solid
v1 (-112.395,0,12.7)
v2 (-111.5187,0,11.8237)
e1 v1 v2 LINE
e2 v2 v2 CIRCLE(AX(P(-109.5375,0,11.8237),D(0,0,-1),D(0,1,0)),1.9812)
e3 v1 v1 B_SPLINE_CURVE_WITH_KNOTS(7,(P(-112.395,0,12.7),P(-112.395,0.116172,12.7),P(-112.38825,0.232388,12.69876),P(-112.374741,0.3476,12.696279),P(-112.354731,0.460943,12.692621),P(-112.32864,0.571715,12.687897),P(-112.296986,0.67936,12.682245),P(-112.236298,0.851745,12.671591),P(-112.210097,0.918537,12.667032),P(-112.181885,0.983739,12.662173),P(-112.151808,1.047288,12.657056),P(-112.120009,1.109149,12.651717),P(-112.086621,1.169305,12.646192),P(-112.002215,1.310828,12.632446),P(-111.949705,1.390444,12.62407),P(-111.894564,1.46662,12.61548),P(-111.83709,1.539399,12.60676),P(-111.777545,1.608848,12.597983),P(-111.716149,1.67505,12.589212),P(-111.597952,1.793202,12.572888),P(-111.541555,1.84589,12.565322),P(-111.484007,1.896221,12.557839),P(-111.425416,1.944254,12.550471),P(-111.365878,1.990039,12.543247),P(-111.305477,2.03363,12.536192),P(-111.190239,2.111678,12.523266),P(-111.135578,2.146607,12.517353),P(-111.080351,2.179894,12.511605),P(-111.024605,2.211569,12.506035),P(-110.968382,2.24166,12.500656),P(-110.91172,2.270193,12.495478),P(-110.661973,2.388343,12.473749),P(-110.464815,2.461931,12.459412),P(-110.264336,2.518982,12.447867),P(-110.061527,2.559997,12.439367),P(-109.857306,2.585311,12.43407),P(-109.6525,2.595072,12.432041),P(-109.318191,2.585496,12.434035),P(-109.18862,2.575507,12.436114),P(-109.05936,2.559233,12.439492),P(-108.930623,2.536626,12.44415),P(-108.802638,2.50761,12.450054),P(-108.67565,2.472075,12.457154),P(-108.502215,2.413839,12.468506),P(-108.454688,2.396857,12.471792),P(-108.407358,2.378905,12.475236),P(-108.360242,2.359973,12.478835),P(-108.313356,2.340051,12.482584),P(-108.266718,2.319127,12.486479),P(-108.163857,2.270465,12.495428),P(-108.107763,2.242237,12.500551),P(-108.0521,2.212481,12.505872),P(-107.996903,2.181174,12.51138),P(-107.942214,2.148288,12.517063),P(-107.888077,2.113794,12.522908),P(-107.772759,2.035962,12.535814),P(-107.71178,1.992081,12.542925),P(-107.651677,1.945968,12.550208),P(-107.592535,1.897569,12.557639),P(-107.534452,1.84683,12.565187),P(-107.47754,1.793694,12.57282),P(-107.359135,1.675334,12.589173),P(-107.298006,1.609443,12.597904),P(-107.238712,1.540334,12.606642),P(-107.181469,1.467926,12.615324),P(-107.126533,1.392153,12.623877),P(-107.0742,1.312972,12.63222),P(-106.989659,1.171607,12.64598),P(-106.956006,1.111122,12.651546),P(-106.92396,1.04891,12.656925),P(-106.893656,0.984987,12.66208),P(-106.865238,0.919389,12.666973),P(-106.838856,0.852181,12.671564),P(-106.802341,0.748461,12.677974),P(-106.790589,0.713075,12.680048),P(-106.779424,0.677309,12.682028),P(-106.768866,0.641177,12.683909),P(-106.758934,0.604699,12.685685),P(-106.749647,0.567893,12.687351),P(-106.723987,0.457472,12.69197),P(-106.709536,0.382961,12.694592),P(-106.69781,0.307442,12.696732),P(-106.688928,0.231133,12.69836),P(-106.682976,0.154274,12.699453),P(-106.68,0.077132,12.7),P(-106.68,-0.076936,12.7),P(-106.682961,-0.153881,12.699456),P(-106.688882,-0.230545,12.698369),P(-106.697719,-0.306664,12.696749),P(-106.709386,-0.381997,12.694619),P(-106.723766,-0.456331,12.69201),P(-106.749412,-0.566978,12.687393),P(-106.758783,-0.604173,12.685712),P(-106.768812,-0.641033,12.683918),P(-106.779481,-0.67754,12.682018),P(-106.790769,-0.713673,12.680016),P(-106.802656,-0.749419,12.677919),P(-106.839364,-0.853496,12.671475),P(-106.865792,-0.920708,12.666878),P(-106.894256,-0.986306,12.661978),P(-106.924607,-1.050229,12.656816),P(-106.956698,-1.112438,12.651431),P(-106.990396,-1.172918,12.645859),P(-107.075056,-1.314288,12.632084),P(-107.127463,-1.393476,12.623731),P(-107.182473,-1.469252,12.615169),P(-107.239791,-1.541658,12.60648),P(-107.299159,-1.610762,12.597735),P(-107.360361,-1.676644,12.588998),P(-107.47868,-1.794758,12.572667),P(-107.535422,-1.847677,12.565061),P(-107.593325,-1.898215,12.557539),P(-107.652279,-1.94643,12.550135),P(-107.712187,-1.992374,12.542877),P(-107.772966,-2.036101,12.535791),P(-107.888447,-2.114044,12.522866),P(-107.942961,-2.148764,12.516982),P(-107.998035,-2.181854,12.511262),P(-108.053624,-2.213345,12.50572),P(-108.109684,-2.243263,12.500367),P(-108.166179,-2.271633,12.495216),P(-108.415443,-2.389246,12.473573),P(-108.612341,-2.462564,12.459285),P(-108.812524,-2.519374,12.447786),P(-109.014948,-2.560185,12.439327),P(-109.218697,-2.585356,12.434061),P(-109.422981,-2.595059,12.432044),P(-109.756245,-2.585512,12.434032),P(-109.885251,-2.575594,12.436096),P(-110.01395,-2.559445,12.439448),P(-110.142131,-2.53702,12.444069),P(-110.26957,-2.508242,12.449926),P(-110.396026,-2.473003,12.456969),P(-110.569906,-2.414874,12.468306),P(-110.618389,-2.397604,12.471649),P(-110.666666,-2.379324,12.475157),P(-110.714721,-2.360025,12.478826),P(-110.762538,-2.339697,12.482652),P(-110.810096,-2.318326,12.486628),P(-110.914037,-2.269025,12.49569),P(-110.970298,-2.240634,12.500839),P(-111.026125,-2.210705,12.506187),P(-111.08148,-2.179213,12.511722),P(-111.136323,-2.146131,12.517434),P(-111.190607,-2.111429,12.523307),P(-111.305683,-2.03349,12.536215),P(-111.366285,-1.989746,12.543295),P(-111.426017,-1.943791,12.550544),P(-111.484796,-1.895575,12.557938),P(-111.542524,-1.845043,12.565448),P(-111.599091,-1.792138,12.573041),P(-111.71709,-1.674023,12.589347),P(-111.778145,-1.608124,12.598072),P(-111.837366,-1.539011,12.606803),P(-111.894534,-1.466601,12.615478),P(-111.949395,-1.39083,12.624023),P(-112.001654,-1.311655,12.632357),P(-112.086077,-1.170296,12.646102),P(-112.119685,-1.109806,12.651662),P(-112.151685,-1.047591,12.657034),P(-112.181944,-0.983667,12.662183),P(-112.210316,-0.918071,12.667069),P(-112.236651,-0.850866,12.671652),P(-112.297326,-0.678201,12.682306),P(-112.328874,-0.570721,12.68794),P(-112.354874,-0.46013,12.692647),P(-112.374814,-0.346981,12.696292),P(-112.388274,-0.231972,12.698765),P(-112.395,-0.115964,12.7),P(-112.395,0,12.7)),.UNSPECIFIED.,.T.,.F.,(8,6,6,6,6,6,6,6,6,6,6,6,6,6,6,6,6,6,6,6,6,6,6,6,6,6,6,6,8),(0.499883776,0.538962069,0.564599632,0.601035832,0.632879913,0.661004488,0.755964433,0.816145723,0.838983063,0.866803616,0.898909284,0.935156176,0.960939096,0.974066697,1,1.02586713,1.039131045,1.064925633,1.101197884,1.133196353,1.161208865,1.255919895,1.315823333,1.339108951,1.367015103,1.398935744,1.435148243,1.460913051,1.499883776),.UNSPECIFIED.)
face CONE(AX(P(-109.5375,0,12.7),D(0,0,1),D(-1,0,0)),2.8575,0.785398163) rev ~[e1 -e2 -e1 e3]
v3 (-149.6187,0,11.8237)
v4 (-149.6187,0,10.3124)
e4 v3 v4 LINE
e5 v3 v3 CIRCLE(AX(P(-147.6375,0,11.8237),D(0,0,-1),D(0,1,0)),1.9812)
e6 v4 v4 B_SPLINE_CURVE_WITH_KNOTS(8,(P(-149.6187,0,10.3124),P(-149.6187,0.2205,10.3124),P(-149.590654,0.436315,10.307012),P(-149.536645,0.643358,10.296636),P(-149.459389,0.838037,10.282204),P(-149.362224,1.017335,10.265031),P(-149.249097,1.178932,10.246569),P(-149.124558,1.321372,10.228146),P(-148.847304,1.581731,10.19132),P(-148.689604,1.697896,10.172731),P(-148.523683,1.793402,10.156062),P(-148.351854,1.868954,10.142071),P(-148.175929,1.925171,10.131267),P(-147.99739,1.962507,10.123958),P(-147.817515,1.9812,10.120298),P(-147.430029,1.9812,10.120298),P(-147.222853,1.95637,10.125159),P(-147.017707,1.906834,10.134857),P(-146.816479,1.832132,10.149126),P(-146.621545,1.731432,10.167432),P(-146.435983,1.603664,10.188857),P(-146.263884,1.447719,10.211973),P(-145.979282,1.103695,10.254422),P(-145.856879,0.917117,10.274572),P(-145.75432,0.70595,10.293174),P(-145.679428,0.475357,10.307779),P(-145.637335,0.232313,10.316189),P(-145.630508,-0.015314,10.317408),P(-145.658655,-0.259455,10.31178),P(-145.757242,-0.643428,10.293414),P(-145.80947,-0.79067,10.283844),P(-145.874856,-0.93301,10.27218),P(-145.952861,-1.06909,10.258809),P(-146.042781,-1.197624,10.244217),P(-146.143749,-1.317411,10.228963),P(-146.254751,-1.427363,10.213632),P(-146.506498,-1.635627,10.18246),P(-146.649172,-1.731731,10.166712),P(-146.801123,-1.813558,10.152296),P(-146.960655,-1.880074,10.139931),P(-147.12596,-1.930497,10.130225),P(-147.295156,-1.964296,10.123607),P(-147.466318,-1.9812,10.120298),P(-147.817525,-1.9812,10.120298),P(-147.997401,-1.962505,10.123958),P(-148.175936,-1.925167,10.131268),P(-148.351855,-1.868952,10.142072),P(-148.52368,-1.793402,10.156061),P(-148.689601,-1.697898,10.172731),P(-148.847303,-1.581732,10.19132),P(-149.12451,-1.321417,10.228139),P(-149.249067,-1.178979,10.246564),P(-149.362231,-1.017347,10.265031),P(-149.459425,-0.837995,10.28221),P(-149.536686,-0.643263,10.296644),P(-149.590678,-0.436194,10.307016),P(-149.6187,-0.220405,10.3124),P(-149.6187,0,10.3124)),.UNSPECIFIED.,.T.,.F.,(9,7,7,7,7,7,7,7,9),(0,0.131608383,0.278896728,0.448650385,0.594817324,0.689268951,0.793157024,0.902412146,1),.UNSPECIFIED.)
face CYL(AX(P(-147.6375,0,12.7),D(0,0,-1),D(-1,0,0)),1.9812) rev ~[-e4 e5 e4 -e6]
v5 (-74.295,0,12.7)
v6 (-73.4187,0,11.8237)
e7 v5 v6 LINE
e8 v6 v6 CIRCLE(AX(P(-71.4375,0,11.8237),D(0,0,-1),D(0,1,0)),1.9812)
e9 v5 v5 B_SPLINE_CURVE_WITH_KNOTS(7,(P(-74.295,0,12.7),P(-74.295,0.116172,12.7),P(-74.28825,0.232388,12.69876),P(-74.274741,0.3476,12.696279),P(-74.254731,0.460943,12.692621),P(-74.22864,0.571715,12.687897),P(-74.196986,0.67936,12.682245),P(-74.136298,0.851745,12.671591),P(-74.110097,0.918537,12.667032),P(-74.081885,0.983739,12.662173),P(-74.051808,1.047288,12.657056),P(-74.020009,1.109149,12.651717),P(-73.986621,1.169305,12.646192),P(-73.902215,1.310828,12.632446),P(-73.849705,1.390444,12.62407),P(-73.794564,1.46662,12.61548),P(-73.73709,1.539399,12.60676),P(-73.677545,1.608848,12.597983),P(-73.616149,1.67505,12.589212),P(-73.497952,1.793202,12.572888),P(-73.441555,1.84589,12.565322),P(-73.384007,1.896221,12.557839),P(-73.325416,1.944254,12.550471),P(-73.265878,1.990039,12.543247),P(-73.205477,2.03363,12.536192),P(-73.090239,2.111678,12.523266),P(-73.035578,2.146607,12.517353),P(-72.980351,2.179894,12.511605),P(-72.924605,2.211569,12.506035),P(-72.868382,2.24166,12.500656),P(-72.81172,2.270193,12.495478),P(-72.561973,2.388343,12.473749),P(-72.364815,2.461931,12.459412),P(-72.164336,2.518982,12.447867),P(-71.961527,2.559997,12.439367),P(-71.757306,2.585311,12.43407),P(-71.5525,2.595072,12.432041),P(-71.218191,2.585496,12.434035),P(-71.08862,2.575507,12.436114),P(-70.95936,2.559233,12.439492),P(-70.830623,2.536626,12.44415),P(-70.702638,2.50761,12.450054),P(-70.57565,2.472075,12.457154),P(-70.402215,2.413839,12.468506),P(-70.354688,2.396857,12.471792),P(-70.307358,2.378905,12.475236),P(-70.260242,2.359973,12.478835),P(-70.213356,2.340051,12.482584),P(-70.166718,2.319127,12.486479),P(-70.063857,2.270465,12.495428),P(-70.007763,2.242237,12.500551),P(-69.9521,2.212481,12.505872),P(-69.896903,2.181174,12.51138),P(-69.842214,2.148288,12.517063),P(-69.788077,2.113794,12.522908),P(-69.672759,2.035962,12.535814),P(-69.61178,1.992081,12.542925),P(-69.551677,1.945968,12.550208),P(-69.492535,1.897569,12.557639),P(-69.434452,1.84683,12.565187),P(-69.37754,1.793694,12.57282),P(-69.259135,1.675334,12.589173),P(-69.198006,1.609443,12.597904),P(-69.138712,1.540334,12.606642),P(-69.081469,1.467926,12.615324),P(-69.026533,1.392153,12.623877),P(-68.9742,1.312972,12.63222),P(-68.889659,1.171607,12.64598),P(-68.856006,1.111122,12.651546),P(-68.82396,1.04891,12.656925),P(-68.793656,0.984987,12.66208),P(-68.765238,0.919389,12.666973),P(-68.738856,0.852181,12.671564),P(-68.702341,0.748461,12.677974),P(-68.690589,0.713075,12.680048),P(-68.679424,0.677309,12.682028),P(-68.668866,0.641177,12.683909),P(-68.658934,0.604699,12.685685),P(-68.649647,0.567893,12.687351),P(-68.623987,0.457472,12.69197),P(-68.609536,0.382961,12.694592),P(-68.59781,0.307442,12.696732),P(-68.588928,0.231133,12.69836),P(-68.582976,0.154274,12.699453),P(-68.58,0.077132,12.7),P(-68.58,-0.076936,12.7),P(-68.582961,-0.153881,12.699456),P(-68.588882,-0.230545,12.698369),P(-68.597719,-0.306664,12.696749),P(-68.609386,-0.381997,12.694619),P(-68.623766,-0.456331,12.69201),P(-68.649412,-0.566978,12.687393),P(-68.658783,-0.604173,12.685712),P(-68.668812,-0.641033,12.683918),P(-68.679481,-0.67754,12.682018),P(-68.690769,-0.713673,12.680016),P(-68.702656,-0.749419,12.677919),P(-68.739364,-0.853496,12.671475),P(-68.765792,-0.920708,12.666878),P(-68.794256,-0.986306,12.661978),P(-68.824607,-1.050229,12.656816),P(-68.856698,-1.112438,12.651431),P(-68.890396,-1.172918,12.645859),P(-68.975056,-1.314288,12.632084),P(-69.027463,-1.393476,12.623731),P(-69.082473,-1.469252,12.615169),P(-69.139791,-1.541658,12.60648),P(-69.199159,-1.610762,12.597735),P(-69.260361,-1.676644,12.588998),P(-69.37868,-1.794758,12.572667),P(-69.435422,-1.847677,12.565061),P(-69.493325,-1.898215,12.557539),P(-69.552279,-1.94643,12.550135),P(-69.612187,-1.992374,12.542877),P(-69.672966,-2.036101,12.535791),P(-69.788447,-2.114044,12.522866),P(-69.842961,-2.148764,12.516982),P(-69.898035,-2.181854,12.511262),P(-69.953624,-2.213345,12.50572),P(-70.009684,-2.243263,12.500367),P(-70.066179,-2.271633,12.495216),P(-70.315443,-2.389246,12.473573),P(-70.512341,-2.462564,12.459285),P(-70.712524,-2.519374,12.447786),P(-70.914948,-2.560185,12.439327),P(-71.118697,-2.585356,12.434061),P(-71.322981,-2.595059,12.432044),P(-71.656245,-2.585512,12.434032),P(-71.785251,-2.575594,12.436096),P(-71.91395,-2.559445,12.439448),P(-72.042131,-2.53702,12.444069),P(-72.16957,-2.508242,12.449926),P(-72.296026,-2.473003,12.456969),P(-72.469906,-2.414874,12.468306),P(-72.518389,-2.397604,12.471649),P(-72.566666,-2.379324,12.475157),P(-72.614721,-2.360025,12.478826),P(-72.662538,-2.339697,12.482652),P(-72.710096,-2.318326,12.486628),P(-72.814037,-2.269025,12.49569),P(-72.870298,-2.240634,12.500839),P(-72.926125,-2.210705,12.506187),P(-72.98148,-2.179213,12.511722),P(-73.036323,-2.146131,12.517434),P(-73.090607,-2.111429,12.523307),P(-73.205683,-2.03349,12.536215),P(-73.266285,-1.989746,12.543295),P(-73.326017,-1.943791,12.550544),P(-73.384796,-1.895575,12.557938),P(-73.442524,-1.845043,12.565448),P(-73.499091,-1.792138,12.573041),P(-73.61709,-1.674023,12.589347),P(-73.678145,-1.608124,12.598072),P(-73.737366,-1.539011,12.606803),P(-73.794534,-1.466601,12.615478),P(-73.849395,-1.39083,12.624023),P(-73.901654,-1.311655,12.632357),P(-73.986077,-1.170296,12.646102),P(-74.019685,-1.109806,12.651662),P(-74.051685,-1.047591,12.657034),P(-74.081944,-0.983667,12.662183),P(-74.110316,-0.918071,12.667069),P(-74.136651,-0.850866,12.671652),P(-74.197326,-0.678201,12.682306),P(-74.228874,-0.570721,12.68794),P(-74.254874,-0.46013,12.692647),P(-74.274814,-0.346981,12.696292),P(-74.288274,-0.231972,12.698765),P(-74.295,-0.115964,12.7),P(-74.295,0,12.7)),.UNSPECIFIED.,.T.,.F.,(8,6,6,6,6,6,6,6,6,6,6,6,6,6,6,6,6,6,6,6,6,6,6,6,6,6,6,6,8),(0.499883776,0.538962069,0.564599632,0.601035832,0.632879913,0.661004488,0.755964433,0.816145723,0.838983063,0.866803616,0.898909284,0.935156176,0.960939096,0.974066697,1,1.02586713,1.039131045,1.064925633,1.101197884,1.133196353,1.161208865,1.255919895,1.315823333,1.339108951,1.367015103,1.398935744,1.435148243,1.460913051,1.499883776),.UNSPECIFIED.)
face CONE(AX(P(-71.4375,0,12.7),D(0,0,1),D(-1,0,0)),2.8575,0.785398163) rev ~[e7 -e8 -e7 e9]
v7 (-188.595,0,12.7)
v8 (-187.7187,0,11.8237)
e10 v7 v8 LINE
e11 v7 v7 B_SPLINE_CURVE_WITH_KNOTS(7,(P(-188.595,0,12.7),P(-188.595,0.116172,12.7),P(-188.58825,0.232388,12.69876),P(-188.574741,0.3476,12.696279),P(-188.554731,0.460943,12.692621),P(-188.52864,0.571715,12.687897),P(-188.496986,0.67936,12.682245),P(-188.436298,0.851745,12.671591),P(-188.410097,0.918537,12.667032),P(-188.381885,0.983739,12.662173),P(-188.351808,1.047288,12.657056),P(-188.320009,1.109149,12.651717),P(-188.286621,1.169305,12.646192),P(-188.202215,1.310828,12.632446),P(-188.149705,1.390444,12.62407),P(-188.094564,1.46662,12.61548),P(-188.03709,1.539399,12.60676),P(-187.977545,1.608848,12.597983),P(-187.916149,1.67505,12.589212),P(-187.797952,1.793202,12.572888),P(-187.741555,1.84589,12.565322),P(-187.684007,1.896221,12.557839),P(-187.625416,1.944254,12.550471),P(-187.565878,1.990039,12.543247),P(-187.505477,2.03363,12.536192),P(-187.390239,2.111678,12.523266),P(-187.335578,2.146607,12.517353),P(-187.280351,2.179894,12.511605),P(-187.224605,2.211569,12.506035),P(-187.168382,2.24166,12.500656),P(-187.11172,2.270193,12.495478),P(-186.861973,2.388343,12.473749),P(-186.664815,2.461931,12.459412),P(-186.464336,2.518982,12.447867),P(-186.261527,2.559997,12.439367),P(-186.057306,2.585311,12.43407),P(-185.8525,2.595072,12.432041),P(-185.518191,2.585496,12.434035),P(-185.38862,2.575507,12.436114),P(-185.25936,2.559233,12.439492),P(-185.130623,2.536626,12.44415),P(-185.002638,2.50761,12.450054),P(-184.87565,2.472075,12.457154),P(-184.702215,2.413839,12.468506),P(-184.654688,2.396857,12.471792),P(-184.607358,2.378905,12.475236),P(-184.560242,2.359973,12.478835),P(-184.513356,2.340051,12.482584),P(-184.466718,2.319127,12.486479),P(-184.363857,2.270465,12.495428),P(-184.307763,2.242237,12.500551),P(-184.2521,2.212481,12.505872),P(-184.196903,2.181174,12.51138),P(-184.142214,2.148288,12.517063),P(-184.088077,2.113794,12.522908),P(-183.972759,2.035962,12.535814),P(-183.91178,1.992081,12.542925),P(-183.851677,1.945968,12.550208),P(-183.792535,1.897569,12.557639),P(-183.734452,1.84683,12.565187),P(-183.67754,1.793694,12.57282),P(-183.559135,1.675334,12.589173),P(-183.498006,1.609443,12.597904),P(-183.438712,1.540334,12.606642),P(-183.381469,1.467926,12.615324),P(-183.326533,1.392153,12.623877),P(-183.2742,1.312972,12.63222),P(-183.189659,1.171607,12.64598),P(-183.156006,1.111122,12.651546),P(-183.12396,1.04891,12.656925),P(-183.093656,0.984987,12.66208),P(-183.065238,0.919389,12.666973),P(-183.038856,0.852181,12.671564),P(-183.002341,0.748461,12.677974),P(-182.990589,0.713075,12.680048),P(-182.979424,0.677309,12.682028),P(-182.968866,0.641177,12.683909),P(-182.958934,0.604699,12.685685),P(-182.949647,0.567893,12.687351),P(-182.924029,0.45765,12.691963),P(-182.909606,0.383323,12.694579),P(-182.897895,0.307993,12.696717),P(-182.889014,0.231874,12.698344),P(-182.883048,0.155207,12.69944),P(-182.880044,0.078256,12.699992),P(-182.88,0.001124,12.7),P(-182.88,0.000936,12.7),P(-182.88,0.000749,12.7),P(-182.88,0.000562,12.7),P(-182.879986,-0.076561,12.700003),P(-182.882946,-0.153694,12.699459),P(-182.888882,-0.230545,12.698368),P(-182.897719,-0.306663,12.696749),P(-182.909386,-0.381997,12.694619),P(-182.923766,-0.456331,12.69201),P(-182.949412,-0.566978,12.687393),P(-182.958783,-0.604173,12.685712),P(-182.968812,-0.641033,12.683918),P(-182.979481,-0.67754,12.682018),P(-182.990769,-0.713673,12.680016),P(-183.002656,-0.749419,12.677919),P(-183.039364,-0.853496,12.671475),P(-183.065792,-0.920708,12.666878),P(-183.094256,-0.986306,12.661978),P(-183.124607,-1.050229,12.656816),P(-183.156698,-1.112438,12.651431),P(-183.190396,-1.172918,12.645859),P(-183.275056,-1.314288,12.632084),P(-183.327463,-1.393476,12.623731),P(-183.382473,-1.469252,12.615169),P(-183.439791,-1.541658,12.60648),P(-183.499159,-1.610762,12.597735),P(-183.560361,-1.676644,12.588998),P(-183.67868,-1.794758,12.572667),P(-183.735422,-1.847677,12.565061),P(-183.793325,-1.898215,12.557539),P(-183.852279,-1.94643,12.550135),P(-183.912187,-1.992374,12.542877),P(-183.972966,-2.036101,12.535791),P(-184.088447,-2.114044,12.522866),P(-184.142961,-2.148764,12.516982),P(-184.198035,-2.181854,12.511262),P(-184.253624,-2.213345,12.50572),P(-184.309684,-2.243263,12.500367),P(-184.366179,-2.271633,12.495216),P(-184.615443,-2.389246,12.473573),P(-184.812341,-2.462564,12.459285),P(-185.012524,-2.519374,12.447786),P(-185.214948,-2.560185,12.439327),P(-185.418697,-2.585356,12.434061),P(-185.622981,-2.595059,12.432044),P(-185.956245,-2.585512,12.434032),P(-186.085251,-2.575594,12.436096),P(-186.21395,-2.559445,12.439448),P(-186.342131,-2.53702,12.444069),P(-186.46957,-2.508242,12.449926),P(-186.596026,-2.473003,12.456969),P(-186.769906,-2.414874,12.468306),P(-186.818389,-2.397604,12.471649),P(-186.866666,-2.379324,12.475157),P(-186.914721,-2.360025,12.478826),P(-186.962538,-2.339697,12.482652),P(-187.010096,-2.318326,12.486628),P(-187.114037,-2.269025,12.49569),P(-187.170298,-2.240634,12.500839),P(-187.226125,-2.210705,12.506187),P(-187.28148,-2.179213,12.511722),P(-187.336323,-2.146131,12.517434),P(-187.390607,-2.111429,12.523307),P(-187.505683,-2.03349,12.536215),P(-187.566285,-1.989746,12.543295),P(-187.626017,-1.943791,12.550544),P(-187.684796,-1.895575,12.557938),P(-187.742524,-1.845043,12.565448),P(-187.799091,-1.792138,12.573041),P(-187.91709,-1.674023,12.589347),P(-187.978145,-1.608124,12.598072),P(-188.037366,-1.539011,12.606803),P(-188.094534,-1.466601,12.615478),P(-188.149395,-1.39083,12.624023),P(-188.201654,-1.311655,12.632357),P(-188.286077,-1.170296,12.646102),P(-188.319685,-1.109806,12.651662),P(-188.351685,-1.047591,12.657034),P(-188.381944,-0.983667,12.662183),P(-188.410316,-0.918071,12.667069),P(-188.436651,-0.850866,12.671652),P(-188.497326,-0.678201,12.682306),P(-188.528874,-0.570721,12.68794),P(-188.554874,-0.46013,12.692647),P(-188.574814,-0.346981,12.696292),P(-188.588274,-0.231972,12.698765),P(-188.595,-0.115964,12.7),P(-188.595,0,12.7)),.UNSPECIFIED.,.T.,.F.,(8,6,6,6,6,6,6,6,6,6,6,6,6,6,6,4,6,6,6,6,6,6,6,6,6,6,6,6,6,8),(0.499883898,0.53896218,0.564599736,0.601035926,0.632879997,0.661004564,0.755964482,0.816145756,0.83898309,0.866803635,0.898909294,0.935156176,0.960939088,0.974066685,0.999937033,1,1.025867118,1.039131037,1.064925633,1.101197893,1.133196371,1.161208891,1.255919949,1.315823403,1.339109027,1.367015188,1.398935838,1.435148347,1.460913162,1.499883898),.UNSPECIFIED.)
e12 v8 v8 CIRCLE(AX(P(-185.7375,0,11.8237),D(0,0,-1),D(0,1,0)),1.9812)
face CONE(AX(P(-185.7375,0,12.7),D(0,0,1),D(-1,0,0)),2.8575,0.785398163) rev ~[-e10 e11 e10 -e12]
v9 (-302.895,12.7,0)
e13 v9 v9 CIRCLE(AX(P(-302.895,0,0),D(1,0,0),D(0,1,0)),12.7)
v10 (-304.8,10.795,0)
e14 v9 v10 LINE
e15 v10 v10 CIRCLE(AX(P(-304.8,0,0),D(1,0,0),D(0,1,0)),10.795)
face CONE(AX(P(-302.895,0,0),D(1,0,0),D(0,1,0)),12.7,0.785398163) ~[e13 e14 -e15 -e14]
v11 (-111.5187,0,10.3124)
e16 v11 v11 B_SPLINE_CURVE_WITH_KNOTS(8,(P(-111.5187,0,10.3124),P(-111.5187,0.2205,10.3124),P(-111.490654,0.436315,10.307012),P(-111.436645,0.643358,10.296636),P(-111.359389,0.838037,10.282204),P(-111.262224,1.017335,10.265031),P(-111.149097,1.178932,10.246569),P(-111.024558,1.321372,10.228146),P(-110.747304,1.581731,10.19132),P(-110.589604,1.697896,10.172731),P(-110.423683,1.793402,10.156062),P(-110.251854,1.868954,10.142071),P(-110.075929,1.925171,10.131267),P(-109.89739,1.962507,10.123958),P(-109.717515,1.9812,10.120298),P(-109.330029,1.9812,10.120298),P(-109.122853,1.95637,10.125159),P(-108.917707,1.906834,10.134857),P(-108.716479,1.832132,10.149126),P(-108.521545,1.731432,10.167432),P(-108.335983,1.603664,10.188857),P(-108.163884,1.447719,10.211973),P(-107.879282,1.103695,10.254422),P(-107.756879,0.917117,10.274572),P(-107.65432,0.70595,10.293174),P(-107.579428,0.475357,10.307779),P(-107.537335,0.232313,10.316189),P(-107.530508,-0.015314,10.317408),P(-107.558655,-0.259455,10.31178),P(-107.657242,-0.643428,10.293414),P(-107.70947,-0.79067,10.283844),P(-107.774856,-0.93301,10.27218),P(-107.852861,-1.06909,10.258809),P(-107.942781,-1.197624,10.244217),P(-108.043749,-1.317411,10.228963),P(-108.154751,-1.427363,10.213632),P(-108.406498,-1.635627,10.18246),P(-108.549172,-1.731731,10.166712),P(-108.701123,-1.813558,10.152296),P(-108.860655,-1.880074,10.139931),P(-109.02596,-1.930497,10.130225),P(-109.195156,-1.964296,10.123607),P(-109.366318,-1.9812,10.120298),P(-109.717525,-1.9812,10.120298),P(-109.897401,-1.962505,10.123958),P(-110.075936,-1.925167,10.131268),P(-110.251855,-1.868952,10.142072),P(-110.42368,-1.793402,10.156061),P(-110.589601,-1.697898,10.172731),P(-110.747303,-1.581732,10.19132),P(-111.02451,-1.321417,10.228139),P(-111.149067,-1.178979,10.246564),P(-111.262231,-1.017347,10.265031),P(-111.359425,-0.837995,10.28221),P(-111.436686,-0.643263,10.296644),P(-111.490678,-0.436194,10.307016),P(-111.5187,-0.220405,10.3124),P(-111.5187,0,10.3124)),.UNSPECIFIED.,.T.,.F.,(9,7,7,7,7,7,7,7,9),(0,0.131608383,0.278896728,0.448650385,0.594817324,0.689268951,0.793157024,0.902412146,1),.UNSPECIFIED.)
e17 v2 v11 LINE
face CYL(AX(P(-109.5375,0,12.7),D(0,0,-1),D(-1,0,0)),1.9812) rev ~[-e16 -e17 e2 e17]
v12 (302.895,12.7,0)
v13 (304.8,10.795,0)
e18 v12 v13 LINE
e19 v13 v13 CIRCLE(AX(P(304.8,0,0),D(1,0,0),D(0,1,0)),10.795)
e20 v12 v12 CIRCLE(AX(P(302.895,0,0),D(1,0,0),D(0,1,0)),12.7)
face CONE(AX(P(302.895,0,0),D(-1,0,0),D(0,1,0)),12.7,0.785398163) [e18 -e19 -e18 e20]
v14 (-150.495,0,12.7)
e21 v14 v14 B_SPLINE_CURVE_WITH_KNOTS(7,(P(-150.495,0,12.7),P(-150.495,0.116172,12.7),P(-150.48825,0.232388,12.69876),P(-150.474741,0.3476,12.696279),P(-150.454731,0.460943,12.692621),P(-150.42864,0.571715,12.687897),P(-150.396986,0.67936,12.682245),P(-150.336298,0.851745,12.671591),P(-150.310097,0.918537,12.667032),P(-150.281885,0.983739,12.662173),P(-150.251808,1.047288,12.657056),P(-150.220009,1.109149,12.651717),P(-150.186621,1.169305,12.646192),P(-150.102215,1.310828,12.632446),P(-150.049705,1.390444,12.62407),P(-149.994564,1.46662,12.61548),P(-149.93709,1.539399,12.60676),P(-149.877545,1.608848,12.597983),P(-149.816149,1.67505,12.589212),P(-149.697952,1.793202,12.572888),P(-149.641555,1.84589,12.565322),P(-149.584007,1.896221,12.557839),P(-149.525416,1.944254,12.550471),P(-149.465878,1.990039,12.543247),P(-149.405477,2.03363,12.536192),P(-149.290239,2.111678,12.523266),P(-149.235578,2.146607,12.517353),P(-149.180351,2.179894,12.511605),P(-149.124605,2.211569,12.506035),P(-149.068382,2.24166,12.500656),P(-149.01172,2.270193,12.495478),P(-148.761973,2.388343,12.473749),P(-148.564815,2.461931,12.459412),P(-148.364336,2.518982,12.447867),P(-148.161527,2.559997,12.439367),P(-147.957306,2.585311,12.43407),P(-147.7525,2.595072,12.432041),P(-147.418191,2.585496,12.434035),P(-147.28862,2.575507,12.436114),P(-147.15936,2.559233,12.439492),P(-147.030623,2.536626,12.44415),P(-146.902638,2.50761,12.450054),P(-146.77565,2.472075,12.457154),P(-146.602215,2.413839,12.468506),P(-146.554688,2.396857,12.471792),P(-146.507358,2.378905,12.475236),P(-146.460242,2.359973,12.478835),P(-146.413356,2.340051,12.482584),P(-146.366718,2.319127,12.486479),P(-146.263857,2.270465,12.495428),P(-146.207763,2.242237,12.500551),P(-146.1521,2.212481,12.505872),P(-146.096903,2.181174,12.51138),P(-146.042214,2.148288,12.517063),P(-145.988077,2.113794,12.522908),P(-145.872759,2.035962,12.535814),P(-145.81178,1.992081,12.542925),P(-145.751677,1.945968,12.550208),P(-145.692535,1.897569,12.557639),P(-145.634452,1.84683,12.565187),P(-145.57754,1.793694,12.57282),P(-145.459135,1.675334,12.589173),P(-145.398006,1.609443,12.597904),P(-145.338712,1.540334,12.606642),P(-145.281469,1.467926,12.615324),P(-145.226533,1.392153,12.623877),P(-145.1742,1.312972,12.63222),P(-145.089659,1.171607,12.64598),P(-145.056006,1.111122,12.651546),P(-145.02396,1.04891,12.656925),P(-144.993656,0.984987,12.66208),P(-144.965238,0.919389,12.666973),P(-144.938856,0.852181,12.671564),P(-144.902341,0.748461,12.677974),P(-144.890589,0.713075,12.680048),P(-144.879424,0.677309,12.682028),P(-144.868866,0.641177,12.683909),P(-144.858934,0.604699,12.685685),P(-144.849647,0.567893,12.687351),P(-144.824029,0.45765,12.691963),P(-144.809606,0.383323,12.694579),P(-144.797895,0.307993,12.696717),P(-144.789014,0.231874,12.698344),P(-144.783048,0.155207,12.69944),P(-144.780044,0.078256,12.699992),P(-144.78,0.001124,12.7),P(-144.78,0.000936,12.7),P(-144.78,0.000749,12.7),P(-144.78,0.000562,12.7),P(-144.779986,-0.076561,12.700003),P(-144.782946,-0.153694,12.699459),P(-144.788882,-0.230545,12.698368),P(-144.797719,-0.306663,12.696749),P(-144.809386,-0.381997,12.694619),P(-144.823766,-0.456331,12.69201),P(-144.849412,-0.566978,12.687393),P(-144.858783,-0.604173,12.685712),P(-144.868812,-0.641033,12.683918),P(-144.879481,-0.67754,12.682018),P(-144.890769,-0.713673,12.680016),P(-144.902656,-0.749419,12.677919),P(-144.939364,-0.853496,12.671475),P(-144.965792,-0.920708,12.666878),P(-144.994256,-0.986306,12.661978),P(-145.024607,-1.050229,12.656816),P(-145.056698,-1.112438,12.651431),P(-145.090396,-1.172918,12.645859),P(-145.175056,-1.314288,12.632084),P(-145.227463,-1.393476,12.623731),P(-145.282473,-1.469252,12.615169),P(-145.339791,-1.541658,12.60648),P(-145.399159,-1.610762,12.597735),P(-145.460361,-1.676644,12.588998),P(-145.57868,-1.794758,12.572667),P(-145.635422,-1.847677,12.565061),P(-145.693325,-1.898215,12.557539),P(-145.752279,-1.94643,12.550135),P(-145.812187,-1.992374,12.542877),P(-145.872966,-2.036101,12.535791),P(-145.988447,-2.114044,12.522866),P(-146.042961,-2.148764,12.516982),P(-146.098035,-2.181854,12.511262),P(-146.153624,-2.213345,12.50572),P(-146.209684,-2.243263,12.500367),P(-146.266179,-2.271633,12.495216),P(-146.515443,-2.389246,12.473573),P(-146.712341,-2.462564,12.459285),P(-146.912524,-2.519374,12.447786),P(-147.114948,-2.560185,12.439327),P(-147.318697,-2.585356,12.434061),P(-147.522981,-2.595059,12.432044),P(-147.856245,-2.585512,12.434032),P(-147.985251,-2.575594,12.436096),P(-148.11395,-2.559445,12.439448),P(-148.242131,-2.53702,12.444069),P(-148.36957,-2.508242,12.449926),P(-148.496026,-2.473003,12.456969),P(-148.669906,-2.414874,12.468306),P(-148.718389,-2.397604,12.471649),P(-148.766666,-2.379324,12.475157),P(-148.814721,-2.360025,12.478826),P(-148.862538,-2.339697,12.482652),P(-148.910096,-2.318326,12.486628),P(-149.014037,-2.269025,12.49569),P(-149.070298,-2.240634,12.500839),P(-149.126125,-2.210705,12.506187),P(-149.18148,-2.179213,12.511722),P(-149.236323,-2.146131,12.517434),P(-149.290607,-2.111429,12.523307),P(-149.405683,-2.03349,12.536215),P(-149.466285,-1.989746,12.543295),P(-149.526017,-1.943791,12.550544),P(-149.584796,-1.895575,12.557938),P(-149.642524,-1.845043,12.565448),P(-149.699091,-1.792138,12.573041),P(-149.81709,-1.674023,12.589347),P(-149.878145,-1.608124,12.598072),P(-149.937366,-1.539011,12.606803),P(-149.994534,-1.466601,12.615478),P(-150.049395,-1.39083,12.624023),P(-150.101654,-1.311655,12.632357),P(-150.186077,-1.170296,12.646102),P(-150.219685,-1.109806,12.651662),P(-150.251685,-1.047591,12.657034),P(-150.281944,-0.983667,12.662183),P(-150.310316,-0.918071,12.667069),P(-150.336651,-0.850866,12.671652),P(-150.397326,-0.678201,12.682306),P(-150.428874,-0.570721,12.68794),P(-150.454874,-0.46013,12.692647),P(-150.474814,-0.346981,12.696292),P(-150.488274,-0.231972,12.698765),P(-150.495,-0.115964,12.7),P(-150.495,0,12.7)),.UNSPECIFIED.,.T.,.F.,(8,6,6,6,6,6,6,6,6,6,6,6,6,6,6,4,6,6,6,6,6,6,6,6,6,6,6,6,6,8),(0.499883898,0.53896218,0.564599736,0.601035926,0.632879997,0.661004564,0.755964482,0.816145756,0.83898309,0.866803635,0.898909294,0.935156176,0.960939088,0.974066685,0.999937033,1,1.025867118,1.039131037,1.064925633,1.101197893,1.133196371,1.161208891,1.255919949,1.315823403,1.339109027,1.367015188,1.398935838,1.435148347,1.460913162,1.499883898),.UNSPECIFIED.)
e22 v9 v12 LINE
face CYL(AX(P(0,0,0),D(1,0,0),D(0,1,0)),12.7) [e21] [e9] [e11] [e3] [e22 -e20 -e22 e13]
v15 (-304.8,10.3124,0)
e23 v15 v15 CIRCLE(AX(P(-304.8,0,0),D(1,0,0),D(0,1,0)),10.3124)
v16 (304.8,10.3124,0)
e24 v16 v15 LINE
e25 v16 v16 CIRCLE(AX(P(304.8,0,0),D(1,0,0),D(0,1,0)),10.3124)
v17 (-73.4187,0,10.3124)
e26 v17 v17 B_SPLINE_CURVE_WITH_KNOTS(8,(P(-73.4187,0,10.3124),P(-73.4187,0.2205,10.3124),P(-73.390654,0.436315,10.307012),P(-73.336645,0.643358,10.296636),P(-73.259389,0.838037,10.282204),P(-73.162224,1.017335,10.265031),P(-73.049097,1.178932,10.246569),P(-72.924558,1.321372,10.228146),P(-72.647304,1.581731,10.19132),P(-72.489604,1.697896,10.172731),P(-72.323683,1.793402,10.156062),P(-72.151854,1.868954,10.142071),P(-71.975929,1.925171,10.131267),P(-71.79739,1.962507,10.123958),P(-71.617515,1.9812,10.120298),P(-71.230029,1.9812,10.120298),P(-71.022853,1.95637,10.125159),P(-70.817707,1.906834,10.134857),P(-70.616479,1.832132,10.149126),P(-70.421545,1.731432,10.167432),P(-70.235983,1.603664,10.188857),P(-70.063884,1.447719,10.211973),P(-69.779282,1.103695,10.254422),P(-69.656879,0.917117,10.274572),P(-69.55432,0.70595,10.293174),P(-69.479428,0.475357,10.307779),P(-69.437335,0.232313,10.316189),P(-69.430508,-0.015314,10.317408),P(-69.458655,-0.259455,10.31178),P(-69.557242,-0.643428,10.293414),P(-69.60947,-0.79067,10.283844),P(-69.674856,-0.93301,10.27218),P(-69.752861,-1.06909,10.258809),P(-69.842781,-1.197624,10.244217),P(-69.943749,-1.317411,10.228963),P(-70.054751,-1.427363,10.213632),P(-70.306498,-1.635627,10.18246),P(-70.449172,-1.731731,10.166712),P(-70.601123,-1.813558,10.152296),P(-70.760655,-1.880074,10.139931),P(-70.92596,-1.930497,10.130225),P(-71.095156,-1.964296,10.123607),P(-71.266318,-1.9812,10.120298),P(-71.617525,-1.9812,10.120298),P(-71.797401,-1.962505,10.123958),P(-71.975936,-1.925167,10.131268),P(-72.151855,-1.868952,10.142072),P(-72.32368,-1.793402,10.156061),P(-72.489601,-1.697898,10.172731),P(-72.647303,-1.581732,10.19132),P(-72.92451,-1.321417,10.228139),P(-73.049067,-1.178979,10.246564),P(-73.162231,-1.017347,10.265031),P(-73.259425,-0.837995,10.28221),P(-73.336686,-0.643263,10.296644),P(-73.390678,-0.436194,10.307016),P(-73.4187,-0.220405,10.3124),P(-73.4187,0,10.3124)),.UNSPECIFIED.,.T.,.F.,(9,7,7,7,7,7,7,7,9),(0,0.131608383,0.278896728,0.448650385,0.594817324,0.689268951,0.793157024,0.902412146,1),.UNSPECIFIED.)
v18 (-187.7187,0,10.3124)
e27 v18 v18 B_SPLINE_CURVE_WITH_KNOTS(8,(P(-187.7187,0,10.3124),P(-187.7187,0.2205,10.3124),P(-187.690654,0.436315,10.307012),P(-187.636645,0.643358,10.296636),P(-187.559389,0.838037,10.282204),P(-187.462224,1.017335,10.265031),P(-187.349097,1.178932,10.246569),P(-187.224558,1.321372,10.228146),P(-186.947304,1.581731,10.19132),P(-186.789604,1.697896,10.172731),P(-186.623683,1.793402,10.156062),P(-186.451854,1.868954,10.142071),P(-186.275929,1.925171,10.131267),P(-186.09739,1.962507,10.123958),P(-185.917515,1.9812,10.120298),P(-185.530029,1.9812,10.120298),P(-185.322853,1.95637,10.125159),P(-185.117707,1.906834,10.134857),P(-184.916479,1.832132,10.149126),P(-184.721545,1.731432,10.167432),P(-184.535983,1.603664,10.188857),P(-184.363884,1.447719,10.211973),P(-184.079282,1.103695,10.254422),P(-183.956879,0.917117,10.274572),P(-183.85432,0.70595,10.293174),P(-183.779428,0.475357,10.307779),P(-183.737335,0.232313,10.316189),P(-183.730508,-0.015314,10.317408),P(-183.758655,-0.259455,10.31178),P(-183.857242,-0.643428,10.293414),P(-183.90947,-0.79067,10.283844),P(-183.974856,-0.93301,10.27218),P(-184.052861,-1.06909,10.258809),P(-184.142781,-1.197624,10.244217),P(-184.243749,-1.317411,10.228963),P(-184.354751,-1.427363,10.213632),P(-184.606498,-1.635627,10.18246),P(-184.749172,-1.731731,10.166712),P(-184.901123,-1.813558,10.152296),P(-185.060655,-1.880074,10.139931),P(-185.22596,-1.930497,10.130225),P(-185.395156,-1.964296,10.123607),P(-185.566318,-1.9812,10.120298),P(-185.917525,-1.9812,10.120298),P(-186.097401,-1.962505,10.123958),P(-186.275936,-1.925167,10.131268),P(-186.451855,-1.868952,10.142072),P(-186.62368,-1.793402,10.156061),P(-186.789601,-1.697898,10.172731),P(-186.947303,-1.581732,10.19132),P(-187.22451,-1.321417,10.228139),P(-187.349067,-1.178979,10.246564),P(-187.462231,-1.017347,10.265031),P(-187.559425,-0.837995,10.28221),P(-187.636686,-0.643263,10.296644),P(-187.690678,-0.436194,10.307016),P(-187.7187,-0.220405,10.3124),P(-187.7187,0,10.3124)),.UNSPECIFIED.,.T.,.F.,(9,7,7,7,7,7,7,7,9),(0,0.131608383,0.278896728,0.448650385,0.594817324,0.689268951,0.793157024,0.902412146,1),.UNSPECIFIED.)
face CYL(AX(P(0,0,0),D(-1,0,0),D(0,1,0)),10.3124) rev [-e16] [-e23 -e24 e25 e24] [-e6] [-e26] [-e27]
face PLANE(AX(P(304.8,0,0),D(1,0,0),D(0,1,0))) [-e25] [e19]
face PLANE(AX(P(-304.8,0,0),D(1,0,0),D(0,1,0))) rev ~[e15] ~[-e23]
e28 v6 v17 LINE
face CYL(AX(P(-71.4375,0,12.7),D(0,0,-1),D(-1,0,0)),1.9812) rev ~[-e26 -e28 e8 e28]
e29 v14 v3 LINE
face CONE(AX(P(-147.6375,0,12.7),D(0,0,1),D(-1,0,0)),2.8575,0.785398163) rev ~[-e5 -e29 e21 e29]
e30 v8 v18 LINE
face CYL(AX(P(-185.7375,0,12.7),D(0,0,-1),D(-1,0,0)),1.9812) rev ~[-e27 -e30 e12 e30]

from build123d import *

# Parameters (mm, degrees)
F0_R           = 12.7
F0_R_2         = 10.3124
F1_DEPTH       = 304.8
F4_D           = 3.9624
F4_DEPTH       = 12.7
F4_CSINK_D     = 5.715
F4_CSINK_ANGLE = 90
F4_TIP         = 1.1904250584
F5_SIZE        = 1.905
F6_SIZE        = 1.905


with BuildPart() as f1:
    # F0 (on Right) → F1 (new body, symmetric)
    with BuildSketch(Plane.YZ):
        Circle(F0_R)
        Circle(F0_R_2, mode=Mode.SUBTRACT)
    extrude(amount=F1_DEPTH, both=True)

    # F4
    with Locations(Plane.XY.offset(12.7)):
        with Locations((-185.7375, 0), (-147.6375, 0), (-109.5375, 0), (-71.4375, 0)):
            CounterSinkHole(F4_D / 2, F4_CSINK_D / 2, depth=F4_DEPTH, counter_sink_angle=F4_CSINK_ANGLE)
            with Locations((0, 0, -(F4_DEPTH + F4_TIP / 2))):  # 118° drill point
                Cone(0, F4_D / 2, F4_TIP, mode=Mode.SUBTRACT)

    # F5
    f5_edges = [f1.edges().sort_by_distance(p)[0] for p in [
        (-304.8, -12.7, 0),
    ]]
    chamfer(f5_edges, length=F5_SIZE)

    # F6
    f6_edges = [f1.edges().sort_by_distance(p)[0] for p in [
        (304.8, -12.7, 0),
    ]]
    chamfer(f6_edges, length=F6_SIZE)


solid = f1.part
